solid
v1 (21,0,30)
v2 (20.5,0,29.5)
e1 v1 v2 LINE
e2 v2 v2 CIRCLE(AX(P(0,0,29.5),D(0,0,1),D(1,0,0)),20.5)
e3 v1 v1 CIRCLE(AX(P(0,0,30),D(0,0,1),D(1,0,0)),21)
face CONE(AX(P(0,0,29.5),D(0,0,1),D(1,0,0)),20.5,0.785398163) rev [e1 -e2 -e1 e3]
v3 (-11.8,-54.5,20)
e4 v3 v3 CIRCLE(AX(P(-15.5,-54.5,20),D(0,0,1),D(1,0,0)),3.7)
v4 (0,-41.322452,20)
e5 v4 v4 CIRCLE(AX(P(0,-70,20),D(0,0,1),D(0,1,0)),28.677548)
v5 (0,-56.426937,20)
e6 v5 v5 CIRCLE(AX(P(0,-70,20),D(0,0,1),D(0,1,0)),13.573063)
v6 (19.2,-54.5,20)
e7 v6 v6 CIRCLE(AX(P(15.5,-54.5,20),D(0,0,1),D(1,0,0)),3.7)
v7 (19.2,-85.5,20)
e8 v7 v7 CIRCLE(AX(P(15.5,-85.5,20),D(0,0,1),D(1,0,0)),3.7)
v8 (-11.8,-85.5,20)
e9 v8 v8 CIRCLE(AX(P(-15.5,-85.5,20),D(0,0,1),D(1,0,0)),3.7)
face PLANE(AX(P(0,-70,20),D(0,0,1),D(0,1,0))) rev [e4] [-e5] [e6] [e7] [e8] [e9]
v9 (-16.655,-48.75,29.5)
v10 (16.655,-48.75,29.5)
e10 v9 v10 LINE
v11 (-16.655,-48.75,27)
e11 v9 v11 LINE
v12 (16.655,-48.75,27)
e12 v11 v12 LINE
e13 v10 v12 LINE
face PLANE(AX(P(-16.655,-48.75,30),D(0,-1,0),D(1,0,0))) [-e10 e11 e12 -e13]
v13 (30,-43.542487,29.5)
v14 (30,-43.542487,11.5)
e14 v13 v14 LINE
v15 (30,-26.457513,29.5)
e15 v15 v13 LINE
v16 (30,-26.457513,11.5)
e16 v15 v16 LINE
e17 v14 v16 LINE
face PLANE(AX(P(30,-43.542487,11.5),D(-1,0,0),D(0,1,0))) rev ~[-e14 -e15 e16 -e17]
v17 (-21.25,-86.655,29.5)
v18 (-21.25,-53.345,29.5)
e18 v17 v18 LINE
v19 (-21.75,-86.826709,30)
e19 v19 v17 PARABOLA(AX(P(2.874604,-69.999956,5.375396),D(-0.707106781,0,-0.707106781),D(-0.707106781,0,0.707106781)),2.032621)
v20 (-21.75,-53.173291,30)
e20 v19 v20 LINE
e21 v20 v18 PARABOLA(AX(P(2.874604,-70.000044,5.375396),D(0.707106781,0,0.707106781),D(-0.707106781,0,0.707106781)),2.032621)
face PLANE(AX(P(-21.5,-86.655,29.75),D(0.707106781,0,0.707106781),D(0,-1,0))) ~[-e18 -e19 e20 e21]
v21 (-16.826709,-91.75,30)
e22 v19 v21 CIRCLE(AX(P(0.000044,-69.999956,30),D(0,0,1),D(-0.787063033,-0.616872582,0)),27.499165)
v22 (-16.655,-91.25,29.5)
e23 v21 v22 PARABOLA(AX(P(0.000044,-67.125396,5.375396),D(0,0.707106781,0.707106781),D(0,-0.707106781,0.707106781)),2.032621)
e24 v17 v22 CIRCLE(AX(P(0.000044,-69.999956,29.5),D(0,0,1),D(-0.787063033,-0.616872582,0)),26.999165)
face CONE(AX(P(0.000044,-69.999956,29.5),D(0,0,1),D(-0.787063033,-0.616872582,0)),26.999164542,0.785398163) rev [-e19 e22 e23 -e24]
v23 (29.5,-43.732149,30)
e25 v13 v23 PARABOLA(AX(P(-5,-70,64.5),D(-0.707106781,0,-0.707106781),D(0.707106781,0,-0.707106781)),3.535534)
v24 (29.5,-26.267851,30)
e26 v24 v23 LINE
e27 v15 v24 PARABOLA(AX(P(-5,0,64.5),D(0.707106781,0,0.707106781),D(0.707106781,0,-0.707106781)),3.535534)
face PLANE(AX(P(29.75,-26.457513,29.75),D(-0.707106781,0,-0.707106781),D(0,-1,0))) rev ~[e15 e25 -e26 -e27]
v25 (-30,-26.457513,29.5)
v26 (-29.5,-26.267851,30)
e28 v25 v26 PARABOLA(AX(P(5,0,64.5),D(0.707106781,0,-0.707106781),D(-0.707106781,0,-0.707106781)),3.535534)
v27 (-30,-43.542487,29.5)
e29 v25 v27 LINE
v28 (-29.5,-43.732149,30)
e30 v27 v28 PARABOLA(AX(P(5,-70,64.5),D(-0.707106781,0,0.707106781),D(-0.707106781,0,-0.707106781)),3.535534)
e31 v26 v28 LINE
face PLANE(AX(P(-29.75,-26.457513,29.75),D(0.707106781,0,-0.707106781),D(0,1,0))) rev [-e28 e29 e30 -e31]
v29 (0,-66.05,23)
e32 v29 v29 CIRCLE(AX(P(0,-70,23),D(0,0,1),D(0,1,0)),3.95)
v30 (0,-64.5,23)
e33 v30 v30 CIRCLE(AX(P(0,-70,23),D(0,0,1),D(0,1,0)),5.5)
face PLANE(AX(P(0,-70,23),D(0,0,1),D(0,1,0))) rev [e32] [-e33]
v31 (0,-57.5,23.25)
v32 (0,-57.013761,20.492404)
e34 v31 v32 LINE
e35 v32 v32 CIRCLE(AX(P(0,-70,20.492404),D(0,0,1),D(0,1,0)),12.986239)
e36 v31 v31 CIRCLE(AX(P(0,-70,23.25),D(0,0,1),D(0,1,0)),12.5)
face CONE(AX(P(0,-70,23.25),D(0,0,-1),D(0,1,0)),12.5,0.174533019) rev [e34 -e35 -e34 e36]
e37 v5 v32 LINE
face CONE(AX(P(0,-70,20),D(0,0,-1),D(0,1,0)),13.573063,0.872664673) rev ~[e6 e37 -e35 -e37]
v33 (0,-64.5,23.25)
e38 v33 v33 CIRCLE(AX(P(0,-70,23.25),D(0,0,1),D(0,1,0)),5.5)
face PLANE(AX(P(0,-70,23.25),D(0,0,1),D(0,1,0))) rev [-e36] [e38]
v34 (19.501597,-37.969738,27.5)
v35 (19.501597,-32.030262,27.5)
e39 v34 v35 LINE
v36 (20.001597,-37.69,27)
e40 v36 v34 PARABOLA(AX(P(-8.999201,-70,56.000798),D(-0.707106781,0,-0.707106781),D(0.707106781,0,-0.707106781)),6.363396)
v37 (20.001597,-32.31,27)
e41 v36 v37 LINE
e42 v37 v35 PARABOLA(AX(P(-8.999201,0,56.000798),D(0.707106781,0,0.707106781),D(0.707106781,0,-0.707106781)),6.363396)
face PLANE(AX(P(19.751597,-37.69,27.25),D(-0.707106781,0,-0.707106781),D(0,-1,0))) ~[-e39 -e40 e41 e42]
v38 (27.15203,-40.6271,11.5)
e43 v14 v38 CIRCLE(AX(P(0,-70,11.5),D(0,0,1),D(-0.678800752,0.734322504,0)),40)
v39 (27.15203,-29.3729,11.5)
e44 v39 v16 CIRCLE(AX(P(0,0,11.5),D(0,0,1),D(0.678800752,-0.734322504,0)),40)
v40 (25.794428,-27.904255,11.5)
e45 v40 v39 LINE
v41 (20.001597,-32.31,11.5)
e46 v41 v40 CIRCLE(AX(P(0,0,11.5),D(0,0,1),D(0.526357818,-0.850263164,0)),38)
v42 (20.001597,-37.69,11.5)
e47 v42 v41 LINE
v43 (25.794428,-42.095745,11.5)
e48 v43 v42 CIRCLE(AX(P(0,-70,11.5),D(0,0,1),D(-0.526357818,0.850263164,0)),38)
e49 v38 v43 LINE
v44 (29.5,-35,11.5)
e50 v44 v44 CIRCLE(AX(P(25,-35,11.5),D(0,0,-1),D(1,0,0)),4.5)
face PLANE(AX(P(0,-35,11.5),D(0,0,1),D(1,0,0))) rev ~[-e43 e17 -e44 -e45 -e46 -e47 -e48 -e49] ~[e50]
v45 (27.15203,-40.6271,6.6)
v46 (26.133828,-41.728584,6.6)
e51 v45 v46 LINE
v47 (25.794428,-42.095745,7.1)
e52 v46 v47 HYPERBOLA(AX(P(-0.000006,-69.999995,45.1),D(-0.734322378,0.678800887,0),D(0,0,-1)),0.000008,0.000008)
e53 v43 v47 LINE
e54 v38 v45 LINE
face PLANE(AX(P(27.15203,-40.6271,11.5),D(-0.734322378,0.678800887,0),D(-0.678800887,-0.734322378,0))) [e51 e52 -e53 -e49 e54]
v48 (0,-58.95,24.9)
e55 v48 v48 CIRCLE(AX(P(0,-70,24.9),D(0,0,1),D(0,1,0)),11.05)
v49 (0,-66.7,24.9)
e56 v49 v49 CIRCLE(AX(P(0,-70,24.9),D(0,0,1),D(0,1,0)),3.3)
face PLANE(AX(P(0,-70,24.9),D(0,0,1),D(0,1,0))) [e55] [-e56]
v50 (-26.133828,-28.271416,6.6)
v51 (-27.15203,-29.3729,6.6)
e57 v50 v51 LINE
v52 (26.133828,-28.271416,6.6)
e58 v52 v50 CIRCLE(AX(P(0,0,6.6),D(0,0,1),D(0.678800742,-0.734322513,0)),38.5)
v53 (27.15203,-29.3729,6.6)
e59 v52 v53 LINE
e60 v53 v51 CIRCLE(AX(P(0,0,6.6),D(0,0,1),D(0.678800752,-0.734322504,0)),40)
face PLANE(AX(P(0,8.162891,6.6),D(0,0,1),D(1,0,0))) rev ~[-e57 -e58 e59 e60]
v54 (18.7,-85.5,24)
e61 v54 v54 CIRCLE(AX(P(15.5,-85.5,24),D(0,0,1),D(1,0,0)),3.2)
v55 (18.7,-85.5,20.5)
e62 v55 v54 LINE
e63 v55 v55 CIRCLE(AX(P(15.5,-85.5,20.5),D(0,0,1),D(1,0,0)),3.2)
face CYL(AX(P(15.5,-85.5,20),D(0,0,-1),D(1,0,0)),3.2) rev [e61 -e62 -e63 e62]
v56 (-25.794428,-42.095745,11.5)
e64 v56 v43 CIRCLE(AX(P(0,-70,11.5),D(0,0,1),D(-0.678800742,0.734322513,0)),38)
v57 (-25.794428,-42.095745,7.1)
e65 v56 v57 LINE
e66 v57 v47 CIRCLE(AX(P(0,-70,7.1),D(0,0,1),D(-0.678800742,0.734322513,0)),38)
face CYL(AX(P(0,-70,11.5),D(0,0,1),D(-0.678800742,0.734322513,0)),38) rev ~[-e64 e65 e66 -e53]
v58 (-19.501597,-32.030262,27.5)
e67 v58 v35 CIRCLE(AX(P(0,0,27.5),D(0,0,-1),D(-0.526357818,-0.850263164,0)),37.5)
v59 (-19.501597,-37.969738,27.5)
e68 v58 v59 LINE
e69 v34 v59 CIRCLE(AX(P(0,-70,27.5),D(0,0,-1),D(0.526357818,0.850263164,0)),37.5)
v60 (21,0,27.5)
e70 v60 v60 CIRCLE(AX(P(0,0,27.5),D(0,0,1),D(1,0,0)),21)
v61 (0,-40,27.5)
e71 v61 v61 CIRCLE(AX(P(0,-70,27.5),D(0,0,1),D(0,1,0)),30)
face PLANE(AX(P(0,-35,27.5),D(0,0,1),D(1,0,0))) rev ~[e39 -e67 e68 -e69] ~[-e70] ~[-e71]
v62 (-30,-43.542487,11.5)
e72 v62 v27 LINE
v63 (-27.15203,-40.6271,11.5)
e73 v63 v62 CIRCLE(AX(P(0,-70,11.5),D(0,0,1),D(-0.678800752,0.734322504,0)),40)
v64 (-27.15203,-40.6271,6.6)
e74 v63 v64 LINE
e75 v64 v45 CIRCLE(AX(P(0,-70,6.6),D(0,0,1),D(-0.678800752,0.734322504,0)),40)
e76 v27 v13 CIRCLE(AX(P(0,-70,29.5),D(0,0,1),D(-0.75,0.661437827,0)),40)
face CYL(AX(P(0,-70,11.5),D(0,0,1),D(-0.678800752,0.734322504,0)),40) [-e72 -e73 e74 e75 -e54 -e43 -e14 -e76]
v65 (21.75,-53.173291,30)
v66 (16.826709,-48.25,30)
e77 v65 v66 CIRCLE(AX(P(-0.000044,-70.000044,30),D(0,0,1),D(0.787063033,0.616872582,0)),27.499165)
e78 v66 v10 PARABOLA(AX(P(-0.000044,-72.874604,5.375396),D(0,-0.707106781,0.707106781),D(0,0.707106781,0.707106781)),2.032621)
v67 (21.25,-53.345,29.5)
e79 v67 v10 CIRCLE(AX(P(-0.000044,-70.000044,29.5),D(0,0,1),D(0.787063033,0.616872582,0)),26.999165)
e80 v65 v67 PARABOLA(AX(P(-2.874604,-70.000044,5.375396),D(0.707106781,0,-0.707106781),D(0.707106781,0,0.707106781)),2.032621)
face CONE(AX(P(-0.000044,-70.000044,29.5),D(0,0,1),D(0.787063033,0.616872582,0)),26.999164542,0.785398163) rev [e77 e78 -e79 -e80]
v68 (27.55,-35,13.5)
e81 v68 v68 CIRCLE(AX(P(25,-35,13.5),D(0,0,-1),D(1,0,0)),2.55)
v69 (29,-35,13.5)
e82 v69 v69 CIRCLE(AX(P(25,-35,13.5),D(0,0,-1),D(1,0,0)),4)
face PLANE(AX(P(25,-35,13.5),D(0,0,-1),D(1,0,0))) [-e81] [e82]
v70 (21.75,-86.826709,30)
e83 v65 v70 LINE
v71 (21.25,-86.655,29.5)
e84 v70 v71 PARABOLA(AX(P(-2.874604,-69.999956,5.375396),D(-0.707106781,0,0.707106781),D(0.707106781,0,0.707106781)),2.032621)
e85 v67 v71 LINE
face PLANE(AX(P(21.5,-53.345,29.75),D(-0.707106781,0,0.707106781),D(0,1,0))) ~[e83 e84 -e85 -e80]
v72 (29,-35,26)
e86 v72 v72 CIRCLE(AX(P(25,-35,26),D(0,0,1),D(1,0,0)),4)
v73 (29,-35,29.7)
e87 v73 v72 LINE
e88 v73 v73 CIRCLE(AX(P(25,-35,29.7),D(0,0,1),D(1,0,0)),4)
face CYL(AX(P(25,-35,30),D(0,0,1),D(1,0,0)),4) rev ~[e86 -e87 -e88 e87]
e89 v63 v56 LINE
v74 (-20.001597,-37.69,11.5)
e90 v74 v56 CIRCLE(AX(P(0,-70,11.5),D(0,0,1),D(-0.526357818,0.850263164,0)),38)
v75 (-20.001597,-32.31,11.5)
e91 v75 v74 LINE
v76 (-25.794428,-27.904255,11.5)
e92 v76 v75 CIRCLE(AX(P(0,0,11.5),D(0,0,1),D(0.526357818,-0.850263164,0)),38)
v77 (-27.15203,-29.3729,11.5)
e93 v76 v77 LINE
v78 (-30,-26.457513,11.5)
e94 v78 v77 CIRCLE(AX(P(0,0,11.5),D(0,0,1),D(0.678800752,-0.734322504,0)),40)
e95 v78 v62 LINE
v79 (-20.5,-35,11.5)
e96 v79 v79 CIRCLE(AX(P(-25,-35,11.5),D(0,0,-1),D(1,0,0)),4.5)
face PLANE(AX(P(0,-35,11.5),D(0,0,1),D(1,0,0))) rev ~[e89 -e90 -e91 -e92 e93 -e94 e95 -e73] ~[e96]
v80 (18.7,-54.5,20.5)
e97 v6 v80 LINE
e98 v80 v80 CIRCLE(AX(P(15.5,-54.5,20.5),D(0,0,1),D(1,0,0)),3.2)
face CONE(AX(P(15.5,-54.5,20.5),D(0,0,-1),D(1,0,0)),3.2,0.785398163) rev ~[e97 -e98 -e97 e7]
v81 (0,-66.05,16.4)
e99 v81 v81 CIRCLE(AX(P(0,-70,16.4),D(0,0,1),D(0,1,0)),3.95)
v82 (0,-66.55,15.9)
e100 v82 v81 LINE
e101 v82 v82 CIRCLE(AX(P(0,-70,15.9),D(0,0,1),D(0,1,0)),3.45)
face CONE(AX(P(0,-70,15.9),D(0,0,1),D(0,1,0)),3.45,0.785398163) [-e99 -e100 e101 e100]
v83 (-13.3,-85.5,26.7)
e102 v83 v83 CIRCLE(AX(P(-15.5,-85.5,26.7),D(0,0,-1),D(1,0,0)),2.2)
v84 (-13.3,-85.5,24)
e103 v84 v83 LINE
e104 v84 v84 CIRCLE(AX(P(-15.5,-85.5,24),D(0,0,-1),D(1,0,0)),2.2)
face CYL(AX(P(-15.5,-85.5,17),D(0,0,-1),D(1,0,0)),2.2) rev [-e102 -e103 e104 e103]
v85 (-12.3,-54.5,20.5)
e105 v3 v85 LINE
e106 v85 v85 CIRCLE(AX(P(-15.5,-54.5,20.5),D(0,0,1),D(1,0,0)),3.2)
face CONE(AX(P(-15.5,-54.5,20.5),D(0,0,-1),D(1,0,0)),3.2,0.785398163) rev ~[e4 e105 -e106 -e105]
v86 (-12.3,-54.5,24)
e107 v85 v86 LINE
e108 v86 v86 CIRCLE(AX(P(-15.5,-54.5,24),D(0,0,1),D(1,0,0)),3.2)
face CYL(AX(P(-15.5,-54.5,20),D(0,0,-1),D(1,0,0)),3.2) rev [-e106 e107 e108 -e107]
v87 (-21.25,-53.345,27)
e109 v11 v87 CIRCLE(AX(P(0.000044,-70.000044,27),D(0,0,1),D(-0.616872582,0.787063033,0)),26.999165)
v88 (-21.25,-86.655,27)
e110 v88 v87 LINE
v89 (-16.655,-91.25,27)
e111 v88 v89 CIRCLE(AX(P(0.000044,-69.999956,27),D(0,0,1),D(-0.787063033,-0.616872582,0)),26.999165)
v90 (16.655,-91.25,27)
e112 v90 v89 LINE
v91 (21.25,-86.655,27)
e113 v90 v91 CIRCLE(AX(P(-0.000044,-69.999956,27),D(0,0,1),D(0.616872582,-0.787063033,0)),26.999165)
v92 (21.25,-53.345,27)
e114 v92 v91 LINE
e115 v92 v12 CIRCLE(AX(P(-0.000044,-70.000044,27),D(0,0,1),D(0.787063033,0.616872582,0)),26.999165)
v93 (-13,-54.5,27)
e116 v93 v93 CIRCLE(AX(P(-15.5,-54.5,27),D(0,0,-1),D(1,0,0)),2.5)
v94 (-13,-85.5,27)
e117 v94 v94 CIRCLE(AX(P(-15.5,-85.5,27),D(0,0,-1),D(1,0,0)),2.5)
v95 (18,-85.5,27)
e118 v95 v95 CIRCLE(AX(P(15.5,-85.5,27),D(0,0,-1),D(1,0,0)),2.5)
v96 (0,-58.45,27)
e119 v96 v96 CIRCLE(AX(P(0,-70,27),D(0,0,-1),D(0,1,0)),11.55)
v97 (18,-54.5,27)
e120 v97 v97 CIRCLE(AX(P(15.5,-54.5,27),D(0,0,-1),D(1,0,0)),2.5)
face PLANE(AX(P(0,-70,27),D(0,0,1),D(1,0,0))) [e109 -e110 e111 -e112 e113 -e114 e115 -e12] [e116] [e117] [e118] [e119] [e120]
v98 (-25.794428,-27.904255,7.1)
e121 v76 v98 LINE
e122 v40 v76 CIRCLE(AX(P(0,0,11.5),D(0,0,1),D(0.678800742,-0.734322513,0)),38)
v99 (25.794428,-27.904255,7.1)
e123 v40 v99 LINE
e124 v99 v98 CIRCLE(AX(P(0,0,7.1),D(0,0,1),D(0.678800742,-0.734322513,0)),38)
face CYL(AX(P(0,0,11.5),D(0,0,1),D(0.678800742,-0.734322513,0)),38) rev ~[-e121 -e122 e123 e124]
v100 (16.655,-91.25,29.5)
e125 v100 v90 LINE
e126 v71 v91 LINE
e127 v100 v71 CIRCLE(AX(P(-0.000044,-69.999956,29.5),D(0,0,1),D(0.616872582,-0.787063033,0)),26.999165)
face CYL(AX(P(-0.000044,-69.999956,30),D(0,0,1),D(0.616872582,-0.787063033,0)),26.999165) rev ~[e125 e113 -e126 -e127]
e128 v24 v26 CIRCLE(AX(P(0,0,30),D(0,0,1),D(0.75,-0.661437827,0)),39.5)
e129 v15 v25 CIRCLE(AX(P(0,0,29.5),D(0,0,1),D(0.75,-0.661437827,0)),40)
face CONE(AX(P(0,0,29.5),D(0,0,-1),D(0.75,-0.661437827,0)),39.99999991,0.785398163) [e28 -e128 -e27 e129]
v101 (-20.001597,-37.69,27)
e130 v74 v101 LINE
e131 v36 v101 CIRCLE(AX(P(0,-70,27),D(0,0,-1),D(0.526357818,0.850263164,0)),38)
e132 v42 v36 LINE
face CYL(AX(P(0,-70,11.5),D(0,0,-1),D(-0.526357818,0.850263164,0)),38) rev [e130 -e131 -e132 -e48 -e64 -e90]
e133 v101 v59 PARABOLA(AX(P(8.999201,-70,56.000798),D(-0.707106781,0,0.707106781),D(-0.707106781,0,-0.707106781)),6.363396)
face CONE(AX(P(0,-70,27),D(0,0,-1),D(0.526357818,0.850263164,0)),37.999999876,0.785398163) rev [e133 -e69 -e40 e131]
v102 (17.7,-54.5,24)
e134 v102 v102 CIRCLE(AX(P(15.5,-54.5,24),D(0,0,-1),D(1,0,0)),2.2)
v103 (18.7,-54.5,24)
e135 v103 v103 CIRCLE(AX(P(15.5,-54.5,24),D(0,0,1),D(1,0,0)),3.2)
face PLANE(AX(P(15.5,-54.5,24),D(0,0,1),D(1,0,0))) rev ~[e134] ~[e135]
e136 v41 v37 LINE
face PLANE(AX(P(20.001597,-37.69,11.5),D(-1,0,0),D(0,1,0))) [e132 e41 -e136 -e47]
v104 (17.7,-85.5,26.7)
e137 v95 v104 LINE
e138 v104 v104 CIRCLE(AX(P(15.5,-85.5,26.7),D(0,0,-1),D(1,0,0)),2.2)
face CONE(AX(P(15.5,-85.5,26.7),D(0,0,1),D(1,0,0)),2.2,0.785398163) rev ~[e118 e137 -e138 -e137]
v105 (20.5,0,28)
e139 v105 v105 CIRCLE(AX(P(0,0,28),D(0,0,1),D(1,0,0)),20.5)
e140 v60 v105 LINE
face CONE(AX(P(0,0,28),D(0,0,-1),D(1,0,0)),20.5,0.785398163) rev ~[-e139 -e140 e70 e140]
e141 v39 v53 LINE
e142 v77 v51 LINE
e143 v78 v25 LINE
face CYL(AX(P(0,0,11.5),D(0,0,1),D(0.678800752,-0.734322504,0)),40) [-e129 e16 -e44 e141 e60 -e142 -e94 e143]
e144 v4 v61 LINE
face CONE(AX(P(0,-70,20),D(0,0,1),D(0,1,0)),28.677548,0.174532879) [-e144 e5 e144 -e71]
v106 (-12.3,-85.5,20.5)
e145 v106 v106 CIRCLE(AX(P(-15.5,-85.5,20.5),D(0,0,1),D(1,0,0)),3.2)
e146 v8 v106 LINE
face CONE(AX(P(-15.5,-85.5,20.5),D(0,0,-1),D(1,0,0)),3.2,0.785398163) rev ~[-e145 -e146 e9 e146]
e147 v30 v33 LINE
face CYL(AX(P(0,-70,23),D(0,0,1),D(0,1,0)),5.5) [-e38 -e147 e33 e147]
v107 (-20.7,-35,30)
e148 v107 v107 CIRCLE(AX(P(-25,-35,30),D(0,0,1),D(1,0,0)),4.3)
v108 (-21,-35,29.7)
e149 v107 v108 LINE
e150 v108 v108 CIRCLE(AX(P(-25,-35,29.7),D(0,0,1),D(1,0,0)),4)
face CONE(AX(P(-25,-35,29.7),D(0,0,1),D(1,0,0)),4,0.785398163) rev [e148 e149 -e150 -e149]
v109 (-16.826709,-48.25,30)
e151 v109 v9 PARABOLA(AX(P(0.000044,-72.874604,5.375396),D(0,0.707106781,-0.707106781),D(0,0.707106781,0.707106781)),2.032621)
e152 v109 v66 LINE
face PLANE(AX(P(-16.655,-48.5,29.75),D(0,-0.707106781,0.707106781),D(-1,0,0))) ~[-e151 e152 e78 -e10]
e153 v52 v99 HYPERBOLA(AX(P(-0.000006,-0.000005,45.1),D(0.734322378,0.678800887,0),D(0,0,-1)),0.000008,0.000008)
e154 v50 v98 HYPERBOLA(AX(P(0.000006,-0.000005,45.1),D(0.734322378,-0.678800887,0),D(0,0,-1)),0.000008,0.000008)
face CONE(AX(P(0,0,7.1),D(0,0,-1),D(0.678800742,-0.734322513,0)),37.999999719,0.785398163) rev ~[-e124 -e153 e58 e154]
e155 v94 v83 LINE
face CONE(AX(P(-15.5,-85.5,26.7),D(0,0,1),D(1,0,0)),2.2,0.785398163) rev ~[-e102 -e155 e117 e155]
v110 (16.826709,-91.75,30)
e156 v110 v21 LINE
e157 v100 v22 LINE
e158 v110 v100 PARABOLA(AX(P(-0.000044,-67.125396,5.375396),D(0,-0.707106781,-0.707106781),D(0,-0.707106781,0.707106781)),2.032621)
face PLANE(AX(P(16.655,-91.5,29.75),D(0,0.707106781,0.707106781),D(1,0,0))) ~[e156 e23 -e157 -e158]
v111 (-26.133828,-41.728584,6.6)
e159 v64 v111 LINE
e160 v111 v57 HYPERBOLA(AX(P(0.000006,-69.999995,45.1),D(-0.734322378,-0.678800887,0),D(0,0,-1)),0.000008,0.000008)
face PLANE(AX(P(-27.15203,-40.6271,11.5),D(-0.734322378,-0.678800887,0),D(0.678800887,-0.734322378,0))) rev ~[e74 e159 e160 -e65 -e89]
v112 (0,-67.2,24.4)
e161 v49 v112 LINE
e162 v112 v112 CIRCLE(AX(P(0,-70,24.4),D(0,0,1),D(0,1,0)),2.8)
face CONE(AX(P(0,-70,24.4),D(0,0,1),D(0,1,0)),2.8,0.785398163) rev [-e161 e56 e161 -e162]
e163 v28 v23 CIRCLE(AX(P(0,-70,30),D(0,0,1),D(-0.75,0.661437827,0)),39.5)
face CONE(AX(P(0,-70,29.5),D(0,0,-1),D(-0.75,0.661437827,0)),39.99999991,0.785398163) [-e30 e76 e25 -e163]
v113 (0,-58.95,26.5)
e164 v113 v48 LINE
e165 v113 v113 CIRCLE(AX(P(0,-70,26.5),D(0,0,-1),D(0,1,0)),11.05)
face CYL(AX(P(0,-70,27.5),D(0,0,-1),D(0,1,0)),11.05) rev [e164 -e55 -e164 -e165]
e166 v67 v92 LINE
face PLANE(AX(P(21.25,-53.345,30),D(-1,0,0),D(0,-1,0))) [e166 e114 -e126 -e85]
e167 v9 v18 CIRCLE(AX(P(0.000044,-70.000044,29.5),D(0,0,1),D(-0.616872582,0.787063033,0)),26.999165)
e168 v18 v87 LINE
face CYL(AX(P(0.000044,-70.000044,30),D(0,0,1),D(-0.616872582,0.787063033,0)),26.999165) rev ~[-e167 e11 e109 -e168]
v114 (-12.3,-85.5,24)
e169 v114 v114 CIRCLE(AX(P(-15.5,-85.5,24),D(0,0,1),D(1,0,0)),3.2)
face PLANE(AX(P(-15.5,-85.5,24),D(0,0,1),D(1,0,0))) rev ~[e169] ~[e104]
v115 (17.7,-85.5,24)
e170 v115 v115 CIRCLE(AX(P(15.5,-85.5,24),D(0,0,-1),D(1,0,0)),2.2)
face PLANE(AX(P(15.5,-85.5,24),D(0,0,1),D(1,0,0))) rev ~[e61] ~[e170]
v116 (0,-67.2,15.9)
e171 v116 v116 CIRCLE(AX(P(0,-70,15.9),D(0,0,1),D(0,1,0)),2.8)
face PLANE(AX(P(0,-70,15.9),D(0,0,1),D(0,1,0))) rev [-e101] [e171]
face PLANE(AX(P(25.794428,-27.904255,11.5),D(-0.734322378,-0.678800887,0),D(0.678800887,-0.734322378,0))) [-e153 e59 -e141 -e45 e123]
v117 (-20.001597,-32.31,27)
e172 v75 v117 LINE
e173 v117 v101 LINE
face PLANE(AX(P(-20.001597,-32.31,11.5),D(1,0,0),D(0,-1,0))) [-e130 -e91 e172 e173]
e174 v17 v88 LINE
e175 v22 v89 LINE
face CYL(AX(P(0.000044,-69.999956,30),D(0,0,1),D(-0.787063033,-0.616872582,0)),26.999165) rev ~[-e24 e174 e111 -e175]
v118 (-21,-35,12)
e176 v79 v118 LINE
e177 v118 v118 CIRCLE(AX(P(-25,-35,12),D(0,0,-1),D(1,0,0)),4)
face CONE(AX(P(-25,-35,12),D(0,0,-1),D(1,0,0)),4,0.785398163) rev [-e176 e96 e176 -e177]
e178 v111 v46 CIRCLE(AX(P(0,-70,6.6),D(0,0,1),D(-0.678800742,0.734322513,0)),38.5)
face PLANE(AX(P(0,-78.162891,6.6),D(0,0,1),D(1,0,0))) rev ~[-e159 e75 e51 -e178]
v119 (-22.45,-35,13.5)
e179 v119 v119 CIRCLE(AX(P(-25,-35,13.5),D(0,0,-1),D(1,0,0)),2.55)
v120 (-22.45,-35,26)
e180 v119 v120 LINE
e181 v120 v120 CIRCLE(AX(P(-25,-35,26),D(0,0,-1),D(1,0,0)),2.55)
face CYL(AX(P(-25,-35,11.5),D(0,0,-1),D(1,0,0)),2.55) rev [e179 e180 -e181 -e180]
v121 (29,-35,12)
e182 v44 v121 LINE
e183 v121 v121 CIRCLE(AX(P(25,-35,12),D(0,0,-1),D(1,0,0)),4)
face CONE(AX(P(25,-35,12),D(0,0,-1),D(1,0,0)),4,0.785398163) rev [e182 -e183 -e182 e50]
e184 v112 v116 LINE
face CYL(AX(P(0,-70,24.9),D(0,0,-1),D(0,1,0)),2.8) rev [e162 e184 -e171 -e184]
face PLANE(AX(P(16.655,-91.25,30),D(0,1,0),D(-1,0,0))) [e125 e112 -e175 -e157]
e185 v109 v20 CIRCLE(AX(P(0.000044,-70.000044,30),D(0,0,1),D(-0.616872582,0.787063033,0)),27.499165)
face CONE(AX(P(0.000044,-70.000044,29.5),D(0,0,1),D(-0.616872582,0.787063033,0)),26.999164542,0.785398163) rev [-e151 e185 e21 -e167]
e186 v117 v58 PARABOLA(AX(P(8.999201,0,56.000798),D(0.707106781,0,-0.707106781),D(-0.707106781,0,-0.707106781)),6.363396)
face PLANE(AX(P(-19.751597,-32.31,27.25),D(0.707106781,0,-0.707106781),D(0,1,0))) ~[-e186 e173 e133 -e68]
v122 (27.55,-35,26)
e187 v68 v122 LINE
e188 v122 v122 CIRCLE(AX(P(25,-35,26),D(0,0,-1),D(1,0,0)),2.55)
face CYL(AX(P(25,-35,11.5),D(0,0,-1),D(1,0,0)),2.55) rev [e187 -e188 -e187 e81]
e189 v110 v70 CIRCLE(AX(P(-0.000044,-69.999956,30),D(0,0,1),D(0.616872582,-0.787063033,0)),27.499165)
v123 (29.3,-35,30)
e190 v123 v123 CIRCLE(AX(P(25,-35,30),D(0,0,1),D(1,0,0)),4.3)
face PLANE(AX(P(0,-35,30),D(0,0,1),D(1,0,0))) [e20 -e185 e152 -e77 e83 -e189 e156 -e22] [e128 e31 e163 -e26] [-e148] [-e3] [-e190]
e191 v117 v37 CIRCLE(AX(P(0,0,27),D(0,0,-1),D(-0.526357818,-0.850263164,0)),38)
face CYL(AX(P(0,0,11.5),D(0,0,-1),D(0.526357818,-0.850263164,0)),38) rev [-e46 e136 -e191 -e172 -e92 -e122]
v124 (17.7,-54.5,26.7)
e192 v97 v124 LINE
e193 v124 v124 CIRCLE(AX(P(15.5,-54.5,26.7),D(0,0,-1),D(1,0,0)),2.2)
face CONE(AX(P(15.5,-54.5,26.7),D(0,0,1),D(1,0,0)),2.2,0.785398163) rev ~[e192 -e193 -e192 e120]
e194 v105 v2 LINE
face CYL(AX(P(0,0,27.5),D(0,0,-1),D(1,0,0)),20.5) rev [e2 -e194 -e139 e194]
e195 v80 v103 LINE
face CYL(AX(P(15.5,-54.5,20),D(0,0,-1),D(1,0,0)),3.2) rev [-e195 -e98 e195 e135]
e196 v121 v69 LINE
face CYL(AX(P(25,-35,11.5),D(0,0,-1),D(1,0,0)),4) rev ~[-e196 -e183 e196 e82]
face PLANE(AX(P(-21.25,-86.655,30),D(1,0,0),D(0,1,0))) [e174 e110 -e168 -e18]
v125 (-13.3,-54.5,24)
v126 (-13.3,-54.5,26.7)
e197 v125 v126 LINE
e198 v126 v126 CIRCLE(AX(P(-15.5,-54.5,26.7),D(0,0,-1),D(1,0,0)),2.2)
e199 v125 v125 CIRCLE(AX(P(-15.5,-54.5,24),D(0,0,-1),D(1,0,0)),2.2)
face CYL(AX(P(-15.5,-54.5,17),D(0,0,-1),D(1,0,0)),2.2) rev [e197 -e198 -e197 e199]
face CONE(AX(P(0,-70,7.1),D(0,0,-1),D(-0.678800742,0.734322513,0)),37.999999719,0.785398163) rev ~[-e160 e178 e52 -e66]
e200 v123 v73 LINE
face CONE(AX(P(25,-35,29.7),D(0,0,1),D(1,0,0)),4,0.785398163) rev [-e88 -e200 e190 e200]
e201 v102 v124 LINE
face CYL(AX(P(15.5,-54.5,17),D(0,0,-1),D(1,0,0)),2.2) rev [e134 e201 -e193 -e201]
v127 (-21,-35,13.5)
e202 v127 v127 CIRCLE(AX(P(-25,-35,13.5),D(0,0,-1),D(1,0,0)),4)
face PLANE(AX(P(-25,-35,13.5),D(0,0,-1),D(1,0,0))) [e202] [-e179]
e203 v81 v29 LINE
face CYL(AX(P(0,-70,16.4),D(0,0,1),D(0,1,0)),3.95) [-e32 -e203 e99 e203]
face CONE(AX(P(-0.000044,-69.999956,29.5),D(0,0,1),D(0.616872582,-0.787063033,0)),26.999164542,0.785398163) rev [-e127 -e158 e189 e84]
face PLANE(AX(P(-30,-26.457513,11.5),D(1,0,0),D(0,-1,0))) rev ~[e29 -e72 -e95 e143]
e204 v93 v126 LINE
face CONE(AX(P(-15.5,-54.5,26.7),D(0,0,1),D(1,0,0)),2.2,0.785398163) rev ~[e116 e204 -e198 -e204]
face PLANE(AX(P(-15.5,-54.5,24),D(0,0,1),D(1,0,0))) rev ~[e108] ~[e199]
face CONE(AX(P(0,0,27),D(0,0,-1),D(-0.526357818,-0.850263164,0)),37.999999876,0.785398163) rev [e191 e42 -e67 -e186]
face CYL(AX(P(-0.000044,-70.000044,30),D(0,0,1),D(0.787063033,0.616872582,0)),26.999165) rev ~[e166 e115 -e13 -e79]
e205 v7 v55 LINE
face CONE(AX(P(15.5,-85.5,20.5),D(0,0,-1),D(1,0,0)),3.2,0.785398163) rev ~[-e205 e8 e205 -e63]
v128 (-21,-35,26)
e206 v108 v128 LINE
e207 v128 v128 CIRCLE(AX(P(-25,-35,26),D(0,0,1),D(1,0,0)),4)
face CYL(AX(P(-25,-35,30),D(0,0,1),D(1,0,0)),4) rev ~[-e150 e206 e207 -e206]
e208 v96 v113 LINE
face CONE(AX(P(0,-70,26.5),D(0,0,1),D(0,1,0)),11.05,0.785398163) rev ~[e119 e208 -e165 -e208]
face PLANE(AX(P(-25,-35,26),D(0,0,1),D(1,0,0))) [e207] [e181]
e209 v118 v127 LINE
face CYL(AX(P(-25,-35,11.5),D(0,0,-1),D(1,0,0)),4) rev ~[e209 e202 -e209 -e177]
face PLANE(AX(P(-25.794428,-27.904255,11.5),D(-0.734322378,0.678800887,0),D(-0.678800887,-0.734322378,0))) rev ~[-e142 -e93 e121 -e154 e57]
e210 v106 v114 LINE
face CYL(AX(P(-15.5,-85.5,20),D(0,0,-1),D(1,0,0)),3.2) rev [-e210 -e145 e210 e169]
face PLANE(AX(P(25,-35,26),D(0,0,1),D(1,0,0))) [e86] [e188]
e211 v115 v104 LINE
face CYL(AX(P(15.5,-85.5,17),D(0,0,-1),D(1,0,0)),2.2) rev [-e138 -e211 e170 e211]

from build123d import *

# Parameters (mm, degrees)
SKETCH021_R     = 2.55
PAD_DEPTH       = 17
SKETCH022_R     = 2.55
SKETCH022_R_2   = 20.5
PAD004_DEPTH    = 2.5
POCKET006_DEPTH = 3
SKETCH024_R     = 2.2
POCKET007_DEPTH = 13.001
SKETCH025_R     = 3.2
POCKET008_DEPTH = 4
SKETCH026_R     = 4
POCKET009_DEPTH = 4
SKETCH027_R     = 4
POCKET010_DEPTH = 2
PAD007_DEPTH    = 4.9
CHAMFER005_SIZE = 0.5
CHAMFER006_SIZE = 0.3


with BuildPart() as part:
    # Sketch021 → Pad (new body)
    with BuildSketch(Plane.XY.offset(11.5)):
        with BuildLine():
            ThreePointArc((30, 43.542487), (0, 110), (-30, 43.542487))
            Line((-30, 43.542487), (-30, 26.457513))
            ThreePointArc((-30, 26.457513), (0, -40), (30, 26.457513))
            Line((30, 26.457513), (30, 43.542487))
        make_face()
        with BuildLine():
            ThreePointArc((20.001597, 37.69), (0, 108), (-20.001597, 37.69))
            Line((-20.001597, 37.69), (-20.001597, 32.31))
            ThreePointArc((-20.001597, 32.31), (0, -38), (20.001597, 32.31))
            Line((20.001597, 32.31), (20.001597, 37.69))
        make_face(mode=Mode.SUBTRACT)
        with Locations((-25, 35)):
            Circle(SKETCH021_R, mode=Mode.SUBTRACT)
        with Locations((25, 35)):
            Circle(SKETCH021_R, mode=Mode.SUBTRACT)
    extrude(amount=PAD_DEPTH)

    # Sketch022 → Pad004 (join)
    with BuildSketch(Plane.XY.offset(27.5)):
        with BuildLine():
            ThreePointArc((30, 43.542487), (0, 110), (-30, 43.542487))
            Line((-30, 43.542487), (-30, 26.457513))
            ThreePointArc((-30, 26.457513), (0, -40), (30, 26.457513))
            Line((30, 43.542487), (30, 26.457513))
        make_face()
        with Locations((-25, 35)):
            Circle(SKETCH022_R, mode=Mode.SUBTRACT)
        with Locations((25, 35)):
            Circle(SKETCH022_R, mode=Mode.SUBTRACT)
        with Locations((0, 70)):
            Circle(SKETCH022_R_2, mode=Mode.SUBTRACT)
    extrude(amount=PAD004_DEPTH)

    # Sketch020 → Revolution005 (revolve)
    with BuildSketch(Plane.YZ):
        Polygon((12.5, 23.25), (13.073063, 20), (28.677548, 20), (30, 27.5), (11.05, 27.5), (11.05, 24.9), (2.8, 24.9), (2.8, 15.9), (3.45, 15.9), (3.95, 16.4), (3.95, 23), (5.5, 23), (5.5, 23.25), align=None)
    revolve(axis=Axis((0, 0, 0), (0, 0, 1)))

    # Sketch023 → Pocket006 (cut)
    with BuildSketch(Plane.XY.offset(30)):
        with BuildLine():
            ThreePointArc((16.655, -21.25), (19.091248, -19.091248), (21.25, -16.655))
            Line((21.25, 16.655), (21.25, -16.655))
            ThreePointArc((21.25, 16.655), (19.091248, 19.091248), (16.655, 21.25))
            Line((-16.655, 21.25), (16.655, 21.25))
            ThreePointArc((-16.655, 21.25), (-19.091248, 19.091248), (-21.25, 16.655))
            Line((-21.25, -16.655), (-21.25, 16.655))
            ThreePointArc((-21.25, -16.655), (-19.091248, -19.091248), (-16.655, -21.25))
            Line((16.655, -21.25), (-16.655, -21.25))
        make_face()
    extrude(amount=-POCKET006_DEPTH, mode=Mode.SUBTRACT)

    # Sketch024 → Pocket007 (cut, through all)
    with BuildSketch(Plane.XY.offset(17)):
        with Locations((15.5, 15.5)):
            Circle(SKETCH024_R)
        with Locations((15.5, -15.5)):
            Circle(SKETCH024_R)
        with Locations((-15.5, -15.5)):
            Circle(SKETCH024_R)
        with Locations((-15.5, 15.5)):
            Circle(SKETCH024_R)
    extrude(amount=POCKET007_DEPTH, mode=Mode.SUBTRACT)

    # Sketch025 → Pocket008 (cut)
    with BuildSketch(Plane.XY.offset(20)):
        with Locations((15.5, 15.5)):
            Circle(SKETCH025_R)
        with Locations((15.5, -15.5)):
            Circle(SKETCH025_R)
        with Locations((-15.5, -15.5)):
            Circle(SKETCH025_R)
        with Locations((-15.5, 15.5)):
            Circle(SKETCH025_R)
    extrude(amount=POCKET008_DEPTH, mode=Mode.SUBTRACT)

    # Sketch026 (on Face12 of Pocket008) → Pocket009 (cut)
    with BuildSketch(Plane.XY.offset(30)):
        with Locations((25, 35)):
            Circle(SKETCH026_R)
        with Locations((-25, 35)):
            Circle(SKETCH026_R)
    extrude(amount=-POCKET009_DEPTH, mode=Mode.SUBTRACT)

    # Sketch027 (on Face1 of Pocket009) → Pocket010 (cut)
    with BuildSketch(Plane(origin=(0, 0, 11.5), x_dir=(1, 0, 0), z_dir=(0, 0, -1))):
        with Locations((-25, -35)):
            Circle(SKETCH027_R)
        with Locations((25, -35)):
            Circle(SKETCH027_R)
    extrude(amount=-POCKET010_DEPTH, mode=Mode.SUBTRACT)

    # Sketch032 → Pad007 (join)
    with BuildSketch(Plane(origin=(0, 70, 11.5), x_dir=(1, 0, 0), z_dir=(0, 0, 1))):
        with BuildLine():
            ThreePointArc((27.15203, -29.3729), (0, 40), (-27.15203, -29.3729))
            Line((-25.794428, -27.904255), (-27.15203, -29.3729))
            ThreePointArc((25.794428, -27.904255), (0, 38), (-25.794428, -27.904255))
            Line((25.794428, -27.904255), (27.15203, -29.3729))
        make_face()
        with BuildLine():
            ThreePointArc((-27.15203, -40.6271), (0, -110), (27.15203, -40.6271))
            Line((27.15203, -40.6271), (25.794428, -42.095745))
            ThreePointArc((-25.794428, -42.095745), (0, -108), (25.794428, -42.095745))
            Line((-27.15203, -40.6271), (-25.794428, -42.095745))
        make_face()
    extrude(amount=-PAD007_DEPTH)

    # Chamfer005
    chamfer005_edges = [part.edges().sort_by_distance(p)[0] for p in [
        (-30, 35, 30),
        (0, -40, 30),
        (0, 110, 30),
        (30, 35, 30),
        (0, 21.25, 30),
        (-19.091248, 19.091248, 30),
        (-21.25, 0, 30),
        (19.091248, -19.091248, 30),
        (21.25, 0, 30),
        (19.091248, 19.091248, 30),
        (-19.091248, -19.091248, 30),
        (0, -21.25, 30),
        (-20.5, 70, 30),
        (0, -11.05, 27),
        (0, -2.8, 24.9),
        (-20.5, 70, 27.5),
        (0, -38, 6.6),
        (0, 108, 6.6),
        (0, -13.073063, 20),
        (0, 108, 27.5),
        (20.001597, 35, 27.5),
        (0, -38, 27.5),
        (-20.001597, 35, 27.5),
        (-18.7, 15.5, 20),
        (-18.7, -15.5, 20),
        (12.3, -15.5, 20),
        (12.3, 15.5, 20),
        (21, 35, 11.5),
        (-29, 35, 11.5),
    ]]
    chamfer(chamfer005_edges, length=CHAMFER005_SIZE)

    # Chamfer006
    chamfer006_edges = [part.edges().sort_by_distance(p)[0] for p in [
        (-29, 35, 30),
        (21, 35, 30),
        (-17.7, -15.5, 27),
        (13.3, -15.5, 27),
        (13.3, 15.5, 27),
        (-17.7, 15.5, 27),
    ]]
    chamfer(chamfer006_edges, length=CHAMFER006_SIZE)


with BuildPart() as part_1:
    # Body007 placement: moved
    add(part.part.moved(Location((0, -70, 0))))


solid = part_1.part
